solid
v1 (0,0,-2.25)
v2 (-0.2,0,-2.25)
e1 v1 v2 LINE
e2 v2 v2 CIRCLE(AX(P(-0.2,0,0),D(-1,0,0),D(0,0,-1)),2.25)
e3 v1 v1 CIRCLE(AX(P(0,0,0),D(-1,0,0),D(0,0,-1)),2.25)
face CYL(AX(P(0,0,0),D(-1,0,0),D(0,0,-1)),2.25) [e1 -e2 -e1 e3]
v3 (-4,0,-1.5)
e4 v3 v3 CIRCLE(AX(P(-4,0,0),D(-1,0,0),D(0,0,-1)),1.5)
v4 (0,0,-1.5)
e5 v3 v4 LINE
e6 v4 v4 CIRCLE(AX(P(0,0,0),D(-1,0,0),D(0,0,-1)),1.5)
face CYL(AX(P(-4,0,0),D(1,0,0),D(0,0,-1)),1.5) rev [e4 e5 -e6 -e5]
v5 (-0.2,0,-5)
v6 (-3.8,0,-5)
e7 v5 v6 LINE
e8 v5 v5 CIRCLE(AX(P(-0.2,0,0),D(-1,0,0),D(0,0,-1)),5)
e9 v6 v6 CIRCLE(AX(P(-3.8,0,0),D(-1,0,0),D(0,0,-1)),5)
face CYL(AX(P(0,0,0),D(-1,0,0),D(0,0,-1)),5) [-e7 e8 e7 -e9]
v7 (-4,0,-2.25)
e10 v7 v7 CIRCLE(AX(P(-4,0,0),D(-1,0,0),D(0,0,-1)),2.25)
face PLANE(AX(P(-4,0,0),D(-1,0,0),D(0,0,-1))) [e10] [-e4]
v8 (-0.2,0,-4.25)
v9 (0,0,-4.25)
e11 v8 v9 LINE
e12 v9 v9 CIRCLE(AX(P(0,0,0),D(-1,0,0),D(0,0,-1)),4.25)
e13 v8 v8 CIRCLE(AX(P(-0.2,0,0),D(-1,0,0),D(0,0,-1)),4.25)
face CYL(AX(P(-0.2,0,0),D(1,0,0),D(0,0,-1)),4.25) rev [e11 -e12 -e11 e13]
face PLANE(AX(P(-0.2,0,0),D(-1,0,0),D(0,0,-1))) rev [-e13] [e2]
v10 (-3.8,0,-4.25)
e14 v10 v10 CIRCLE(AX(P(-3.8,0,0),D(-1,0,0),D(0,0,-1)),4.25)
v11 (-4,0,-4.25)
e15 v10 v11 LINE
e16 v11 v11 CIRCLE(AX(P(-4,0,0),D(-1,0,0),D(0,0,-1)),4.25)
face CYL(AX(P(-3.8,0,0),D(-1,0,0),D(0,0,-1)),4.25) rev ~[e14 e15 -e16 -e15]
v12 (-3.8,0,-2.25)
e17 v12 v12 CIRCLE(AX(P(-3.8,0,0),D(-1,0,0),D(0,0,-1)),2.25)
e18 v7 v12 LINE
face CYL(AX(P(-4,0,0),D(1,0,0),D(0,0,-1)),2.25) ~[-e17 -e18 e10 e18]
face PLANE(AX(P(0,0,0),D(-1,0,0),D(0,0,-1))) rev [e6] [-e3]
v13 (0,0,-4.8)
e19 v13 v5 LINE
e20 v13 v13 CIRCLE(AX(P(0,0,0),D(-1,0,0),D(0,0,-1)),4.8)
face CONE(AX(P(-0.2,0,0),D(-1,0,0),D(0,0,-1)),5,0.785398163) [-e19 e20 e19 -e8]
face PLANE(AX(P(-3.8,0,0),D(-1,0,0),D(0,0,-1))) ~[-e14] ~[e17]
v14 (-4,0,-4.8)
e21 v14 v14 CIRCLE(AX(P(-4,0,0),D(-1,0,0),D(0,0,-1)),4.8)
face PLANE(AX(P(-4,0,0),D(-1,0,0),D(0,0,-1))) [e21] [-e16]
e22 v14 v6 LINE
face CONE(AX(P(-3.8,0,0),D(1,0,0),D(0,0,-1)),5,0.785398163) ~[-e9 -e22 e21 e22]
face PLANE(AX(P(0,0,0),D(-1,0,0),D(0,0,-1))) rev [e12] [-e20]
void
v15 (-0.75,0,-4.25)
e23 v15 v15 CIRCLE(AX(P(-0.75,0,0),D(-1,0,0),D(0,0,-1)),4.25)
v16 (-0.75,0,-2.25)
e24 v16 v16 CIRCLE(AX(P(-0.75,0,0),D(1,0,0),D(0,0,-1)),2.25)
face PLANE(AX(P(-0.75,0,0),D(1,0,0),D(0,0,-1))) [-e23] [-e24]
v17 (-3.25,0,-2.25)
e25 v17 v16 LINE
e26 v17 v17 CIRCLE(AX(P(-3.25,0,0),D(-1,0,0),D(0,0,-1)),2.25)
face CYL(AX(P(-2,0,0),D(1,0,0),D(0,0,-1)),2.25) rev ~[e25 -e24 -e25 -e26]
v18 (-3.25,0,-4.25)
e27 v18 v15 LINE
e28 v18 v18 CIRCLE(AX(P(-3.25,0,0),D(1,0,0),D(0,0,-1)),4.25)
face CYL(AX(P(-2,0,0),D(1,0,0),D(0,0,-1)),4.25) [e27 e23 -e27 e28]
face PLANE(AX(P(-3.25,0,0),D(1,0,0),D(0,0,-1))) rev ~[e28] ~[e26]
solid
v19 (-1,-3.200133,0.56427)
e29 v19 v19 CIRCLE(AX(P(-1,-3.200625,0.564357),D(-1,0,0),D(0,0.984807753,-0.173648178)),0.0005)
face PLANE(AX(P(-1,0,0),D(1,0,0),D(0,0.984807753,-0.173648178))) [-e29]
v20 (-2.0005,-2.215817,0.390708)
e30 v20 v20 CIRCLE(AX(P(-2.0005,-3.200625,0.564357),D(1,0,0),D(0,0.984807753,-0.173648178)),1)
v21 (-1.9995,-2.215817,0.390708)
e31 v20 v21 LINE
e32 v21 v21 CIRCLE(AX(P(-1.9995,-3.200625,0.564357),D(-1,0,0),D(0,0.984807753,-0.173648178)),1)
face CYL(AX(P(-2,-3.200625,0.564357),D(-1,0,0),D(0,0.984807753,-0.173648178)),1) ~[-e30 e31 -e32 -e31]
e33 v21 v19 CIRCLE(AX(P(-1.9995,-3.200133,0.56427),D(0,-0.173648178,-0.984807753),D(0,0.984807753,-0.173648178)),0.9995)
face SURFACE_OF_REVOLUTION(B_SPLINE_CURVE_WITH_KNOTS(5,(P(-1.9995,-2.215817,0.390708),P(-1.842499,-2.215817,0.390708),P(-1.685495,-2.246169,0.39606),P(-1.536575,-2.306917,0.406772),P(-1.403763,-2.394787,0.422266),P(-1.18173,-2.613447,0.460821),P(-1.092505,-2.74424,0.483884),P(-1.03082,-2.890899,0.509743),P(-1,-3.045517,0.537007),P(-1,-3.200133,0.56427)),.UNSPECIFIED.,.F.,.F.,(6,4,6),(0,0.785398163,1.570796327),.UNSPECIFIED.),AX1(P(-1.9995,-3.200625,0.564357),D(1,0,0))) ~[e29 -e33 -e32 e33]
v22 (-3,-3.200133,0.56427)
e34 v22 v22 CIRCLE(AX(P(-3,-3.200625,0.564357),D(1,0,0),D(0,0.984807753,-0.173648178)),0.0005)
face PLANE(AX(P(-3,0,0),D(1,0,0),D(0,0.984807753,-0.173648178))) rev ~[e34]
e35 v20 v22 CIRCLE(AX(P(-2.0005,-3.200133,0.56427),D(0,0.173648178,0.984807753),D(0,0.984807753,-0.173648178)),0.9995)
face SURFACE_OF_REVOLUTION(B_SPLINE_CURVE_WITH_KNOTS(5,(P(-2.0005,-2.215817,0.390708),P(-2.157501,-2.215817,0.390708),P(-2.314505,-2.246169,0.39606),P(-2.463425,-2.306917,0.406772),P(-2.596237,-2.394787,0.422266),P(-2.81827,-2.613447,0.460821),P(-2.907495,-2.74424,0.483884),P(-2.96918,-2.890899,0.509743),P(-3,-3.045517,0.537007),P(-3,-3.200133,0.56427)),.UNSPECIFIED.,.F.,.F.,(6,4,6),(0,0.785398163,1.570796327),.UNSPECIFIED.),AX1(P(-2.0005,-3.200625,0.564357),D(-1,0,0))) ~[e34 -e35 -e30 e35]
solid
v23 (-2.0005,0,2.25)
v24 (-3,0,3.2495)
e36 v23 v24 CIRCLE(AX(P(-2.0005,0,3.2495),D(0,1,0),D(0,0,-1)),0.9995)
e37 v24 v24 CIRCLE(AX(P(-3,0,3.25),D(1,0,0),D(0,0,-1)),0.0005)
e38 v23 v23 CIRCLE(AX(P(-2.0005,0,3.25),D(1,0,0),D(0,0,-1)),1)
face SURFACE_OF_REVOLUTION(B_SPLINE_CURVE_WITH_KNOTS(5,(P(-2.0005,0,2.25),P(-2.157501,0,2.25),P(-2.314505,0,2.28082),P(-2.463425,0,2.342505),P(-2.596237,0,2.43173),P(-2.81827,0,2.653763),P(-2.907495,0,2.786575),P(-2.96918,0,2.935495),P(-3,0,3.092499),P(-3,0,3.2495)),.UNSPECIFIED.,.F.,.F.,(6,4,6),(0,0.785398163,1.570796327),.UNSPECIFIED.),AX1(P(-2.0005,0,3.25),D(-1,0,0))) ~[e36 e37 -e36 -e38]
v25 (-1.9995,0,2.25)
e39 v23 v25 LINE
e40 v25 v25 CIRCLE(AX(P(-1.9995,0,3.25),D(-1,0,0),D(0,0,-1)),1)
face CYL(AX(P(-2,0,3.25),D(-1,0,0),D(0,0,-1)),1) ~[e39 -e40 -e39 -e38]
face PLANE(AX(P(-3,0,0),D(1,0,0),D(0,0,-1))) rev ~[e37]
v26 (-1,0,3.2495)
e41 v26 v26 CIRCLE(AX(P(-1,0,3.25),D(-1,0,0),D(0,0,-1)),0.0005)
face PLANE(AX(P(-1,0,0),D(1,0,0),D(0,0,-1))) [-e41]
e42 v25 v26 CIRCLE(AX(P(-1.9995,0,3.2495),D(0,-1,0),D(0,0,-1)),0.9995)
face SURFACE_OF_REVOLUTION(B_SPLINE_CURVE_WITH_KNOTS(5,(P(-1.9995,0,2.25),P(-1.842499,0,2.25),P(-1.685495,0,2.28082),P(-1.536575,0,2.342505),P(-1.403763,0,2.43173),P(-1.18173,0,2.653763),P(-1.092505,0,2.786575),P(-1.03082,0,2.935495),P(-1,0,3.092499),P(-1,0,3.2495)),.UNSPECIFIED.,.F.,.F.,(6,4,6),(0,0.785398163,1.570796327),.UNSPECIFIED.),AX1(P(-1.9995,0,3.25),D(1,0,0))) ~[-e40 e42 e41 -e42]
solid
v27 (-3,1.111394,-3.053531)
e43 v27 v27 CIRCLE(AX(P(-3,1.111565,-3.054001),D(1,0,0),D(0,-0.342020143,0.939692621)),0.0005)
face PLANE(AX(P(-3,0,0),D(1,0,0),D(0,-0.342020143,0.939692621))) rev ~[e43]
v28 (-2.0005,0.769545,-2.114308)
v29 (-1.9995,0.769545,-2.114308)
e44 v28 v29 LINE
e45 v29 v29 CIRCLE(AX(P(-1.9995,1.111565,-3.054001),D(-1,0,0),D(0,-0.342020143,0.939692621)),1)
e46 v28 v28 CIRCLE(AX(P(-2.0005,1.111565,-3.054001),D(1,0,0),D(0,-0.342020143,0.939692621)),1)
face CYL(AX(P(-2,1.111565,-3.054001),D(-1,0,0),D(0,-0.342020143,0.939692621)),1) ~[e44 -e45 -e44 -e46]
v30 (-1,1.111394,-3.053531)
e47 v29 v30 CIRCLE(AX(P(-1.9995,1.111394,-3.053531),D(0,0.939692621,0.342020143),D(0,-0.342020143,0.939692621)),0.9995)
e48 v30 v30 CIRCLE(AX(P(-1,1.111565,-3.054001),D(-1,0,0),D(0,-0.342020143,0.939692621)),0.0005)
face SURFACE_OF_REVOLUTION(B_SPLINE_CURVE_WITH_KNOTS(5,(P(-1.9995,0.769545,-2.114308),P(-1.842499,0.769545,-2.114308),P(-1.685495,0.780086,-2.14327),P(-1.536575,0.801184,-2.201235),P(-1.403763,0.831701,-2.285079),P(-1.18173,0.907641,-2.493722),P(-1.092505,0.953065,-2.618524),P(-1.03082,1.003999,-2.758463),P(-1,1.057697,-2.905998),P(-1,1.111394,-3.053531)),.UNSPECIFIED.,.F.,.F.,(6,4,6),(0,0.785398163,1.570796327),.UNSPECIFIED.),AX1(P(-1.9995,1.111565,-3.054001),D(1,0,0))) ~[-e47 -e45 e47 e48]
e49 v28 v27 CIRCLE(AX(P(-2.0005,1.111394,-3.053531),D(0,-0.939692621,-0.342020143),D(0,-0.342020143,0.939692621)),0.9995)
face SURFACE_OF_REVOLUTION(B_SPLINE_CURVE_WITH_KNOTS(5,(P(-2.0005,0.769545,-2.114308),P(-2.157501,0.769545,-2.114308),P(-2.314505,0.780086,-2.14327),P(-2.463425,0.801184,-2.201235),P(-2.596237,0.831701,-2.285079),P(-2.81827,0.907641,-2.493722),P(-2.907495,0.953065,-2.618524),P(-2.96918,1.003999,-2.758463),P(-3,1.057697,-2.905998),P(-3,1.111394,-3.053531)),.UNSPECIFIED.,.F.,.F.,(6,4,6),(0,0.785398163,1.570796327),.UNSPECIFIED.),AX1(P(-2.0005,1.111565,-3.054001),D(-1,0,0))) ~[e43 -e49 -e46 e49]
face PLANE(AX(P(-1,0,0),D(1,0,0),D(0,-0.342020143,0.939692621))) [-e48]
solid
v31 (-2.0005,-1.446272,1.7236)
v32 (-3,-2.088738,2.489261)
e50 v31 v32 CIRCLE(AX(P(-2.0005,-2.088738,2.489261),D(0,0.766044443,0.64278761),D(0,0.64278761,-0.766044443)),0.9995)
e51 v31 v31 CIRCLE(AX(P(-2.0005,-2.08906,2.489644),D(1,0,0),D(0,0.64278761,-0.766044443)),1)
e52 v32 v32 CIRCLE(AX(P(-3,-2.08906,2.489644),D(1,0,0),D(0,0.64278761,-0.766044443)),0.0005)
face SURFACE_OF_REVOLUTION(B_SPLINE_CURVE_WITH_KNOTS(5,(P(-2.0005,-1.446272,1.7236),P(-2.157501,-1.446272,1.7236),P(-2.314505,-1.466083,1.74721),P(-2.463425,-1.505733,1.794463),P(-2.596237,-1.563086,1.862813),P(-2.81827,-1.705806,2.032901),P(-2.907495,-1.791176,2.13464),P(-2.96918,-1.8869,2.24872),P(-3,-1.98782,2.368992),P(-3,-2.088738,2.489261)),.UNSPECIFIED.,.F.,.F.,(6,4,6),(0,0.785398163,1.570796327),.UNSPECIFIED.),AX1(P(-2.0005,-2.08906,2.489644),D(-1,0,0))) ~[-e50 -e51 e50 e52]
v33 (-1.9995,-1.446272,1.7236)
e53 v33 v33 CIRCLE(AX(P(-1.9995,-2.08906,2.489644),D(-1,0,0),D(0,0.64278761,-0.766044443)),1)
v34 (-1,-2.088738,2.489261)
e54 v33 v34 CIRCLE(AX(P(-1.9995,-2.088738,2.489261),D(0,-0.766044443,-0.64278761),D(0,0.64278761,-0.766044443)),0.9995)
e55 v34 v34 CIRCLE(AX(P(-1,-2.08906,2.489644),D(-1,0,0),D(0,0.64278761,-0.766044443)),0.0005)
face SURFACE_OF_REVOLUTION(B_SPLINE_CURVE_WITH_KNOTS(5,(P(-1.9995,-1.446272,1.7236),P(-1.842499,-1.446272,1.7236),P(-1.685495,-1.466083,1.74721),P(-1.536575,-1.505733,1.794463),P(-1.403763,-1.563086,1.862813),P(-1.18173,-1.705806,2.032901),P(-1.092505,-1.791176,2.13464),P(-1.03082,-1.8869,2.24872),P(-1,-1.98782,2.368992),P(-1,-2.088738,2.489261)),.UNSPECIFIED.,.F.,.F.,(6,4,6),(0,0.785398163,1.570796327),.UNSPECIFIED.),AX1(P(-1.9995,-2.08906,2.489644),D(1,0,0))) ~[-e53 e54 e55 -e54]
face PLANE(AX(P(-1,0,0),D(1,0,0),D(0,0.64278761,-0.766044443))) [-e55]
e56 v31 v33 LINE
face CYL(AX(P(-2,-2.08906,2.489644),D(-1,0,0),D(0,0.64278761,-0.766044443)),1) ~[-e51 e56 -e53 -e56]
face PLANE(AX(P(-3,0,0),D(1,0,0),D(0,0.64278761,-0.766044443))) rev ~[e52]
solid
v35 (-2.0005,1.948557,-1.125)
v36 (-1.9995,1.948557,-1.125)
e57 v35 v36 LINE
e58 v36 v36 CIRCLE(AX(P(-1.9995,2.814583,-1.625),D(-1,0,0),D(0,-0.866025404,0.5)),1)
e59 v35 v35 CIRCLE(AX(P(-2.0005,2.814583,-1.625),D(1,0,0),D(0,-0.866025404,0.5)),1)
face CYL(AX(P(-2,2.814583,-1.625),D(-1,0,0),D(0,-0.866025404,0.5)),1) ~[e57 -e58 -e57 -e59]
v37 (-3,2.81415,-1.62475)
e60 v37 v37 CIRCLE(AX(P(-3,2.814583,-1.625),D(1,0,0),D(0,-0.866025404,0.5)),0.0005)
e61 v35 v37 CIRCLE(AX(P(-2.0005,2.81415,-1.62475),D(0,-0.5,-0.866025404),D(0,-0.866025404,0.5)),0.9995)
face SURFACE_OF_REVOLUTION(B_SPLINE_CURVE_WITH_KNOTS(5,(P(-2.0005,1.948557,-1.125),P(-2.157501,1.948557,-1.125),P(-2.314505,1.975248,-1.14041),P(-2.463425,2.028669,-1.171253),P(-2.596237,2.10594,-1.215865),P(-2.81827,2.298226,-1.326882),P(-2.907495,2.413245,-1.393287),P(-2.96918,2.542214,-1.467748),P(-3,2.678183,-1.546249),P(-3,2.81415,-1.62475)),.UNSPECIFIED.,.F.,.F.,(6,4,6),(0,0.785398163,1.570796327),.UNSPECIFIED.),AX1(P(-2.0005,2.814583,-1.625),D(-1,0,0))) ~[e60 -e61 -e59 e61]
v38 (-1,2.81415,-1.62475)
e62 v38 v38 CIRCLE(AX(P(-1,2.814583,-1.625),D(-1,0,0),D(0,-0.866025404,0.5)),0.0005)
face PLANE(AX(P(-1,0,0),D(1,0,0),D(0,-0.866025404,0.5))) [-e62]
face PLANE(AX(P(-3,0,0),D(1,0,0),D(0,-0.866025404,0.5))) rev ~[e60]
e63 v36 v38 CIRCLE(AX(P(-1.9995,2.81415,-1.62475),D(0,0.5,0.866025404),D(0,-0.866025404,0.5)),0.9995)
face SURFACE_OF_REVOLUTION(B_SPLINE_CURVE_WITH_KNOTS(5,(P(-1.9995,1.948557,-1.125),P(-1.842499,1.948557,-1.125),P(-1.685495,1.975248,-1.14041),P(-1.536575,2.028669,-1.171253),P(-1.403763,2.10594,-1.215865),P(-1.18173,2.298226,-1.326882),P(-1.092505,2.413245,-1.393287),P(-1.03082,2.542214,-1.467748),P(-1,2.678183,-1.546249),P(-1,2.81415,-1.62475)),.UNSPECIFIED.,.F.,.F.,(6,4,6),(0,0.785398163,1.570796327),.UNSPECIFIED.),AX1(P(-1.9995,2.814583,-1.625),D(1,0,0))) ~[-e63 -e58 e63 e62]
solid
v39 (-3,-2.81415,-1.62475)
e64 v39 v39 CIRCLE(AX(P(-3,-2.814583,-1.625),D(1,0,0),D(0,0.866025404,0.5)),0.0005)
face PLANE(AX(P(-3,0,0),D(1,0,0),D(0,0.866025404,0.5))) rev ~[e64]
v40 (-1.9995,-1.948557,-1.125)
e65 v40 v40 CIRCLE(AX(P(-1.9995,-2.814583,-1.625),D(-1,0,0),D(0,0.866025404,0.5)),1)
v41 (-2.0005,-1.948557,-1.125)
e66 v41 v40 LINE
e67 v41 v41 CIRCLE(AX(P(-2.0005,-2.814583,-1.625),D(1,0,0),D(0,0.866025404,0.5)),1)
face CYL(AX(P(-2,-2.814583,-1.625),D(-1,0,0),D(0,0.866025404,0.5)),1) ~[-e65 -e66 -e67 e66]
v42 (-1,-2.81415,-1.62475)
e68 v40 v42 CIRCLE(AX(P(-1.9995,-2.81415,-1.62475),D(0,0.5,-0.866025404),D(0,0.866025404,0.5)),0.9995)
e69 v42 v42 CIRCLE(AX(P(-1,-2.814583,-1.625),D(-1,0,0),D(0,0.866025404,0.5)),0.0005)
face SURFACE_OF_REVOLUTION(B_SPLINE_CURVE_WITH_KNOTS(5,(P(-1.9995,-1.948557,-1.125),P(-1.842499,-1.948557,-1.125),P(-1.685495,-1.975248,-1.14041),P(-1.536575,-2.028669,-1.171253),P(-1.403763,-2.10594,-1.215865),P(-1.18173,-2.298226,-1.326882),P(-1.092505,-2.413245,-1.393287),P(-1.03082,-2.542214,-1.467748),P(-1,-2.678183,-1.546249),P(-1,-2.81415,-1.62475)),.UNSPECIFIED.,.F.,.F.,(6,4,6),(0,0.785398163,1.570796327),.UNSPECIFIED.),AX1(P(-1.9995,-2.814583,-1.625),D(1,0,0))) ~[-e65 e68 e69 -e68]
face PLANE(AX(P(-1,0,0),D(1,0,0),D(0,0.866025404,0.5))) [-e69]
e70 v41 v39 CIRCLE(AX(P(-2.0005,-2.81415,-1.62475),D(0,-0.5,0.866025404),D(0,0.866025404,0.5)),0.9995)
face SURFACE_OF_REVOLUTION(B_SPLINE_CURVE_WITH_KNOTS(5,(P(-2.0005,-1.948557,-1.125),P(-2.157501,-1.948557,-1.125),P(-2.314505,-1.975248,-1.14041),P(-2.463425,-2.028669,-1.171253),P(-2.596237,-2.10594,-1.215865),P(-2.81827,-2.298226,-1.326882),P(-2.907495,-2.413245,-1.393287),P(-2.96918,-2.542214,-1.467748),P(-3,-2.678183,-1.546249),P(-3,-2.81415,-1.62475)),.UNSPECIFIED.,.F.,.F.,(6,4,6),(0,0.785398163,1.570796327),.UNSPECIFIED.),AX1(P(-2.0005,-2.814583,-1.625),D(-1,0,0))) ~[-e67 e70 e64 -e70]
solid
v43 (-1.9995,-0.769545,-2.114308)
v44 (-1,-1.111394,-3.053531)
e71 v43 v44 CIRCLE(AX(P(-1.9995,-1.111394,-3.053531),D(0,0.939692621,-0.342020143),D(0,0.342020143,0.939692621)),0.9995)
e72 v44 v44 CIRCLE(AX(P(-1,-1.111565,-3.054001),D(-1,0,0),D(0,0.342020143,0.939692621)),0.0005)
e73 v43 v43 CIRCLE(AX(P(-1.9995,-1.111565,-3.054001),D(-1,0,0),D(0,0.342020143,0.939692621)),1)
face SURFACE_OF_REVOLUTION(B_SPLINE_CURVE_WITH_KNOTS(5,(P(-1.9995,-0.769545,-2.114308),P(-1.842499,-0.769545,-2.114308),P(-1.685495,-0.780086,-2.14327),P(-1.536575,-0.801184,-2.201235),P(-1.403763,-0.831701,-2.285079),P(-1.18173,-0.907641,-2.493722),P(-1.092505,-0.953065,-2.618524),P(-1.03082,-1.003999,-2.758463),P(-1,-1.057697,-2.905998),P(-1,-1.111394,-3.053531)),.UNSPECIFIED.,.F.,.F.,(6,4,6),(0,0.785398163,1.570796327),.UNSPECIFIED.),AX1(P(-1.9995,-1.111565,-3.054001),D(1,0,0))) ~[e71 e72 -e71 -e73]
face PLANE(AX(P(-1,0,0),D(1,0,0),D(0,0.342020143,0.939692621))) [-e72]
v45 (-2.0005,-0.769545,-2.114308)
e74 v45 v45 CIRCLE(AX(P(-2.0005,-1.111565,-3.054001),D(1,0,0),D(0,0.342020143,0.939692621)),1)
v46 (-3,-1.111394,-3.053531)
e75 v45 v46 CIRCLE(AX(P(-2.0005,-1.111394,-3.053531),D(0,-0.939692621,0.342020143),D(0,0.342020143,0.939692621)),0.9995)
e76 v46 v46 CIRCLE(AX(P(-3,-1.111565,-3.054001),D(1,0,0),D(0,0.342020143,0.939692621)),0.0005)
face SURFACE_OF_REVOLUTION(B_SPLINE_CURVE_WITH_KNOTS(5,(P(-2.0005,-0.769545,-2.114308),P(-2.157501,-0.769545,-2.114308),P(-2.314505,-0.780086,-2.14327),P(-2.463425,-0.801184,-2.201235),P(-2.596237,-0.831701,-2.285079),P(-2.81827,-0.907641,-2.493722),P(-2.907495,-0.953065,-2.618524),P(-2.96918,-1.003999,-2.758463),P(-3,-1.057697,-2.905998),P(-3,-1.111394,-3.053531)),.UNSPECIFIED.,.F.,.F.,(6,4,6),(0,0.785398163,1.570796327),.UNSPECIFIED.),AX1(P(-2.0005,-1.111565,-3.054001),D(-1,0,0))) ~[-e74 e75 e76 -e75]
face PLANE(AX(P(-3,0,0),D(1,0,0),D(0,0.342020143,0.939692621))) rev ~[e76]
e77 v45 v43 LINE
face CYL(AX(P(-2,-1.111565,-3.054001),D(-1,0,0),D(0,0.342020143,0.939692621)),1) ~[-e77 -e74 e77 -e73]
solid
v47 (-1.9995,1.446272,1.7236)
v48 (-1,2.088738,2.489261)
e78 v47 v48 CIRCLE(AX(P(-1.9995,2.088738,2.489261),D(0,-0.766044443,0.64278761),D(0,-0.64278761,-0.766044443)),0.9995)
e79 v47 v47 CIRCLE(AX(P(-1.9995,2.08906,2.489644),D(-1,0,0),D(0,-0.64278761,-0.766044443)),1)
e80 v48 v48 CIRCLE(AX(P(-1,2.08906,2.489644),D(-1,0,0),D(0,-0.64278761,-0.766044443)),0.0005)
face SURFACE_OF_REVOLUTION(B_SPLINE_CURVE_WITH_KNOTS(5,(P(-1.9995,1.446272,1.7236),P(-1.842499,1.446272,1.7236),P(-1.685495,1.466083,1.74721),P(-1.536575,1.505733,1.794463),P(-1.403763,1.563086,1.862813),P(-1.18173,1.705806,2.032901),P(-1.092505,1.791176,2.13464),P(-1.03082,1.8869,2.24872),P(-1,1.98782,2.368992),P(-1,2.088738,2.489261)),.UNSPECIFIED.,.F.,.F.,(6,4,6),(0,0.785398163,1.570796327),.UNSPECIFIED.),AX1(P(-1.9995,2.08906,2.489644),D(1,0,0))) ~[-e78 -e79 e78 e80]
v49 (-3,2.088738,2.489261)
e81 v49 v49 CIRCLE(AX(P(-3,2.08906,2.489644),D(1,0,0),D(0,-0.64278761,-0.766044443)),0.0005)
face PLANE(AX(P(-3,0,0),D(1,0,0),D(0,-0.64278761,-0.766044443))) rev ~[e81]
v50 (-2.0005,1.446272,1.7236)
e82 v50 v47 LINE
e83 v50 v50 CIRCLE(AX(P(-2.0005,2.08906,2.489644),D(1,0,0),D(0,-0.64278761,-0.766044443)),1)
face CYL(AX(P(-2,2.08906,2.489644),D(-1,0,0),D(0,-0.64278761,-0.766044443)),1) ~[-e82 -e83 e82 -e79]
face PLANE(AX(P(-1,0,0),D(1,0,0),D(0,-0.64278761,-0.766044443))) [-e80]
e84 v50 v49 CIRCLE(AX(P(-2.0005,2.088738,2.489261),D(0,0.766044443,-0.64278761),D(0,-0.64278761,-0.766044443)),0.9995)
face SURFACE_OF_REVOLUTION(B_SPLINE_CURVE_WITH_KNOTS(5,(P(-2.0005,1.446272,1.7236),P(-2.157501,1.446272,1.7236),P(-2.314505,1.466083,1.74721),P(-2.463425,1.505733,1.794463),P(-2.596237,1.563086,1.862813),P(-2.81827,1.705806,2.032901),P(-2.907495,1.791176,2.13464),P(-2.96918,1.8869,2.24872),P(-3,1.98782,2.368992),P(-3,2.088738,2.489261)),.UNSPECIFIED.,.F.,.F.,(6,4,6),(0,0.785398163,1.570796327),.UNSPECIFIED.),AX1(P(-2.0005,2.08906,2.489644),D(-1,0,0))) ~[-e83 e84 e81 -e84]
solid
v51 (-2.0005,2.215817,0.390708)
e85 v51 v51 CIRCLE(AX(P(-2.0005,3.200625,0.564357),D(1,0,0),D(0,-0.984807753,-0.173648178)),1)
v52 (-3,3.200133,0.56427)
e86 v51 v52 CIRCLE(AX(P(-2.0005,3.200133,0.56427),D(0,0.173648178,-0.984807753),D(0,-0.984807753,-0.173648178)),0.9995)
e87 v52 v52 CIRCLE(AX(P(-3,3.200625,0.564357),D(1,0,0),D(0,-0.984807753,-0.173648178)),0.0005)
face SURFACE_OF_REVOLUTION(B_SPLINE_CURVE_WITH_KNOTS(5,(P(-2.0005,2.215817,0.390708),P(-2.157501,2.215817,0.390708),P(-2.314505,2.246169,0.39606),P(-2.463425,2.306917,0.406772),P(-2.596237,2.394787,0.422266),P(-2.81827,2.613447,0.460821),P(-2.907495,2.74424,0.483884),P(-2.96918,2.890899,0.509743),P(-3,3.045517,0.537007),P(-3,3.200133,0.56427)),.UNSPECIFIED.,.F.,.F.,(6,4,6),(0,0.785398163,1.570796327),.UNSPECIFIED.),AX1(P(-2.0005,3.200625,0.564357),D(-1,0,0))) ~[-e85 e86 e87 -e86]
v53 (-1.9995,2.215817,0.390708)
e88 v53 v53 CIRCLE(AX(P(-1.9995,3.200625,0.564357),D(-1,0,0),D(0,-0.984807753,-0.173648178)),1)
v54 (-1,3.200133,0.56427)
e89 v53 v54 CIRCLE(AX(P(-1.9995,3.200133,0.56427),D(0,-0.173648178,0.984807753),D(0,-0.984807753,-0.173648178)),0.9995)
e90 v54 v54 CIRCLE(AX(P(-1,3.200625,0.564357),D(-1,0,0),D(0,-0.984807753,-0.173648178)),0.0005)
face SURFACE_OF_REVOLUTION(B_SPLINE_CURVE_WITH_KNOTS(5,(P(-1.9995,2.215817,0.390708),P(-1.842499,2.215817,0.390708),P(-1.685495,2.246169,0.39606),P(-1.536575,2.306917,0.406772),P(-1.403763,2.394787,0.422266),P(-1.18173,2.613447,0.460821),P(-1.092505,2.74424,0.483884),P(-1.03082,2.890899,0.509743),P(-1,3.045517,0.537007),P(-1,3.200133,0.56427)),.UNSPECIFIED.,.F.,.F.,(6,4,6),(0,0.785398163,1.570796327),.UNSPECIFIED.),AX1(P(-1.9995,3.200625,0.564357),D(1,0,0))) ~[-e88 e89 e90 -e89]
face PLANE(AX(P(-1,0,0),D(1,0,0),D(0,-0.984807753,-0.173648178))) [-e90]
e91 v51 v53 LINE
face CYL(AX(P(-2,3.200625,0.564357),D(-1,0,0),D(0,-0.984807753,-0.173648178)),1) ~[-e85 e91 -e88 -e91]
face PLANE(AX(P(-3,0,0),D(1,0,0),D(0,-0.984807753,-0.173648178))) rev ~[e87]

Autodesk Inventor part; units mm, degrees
ref_plane "YZ Plane" through (0, 0, 0) normal (1, 0, 0) x (0, 1, 0)
ref_plane "XZ Plane" through (0, 0, 0) normal (0, 1, 0) x (-1, 0, 0)
sketch "Sketch1" plane through (0, 0, 0) normal (0, 1, 0) x (-1, 0, 0)
  line L0 (0, 0) -> (4, 0)
  line L1 (4, 0) -> (4, -1.5)
  line L2 (4, -1.5) -> (0, -1.5)
  line L3 (0, -1.5) -> (0, 0)
  line L4 (4, -1.5) -> (0, -1.5)
  line L5 (0, -1.5) -> (0, -5)
  line L6 (0, -5) -> (4, -5)
  line L7 (4, -5) -> (4, -1.5)
  line L8 (4, -2.25) -> (3.8, -2.25)
  line L9 (3.8, -2.25) -> (3.8, -4.25)
  line L10 (3.8, -4.25) -> (4, -4.25)
  line L11 (4, -4.25) -> (4, -2.25)
  line L12 (0, -2.25) -> (0.2, -2.25)
  line L13 (0.2, -2.25) -> (0.2, -4.25)
  line L14 (0.2, -4.25) -> (0, -4.25)
  line L15 (0, -4.25) -> (0, -2.25)
  dimension "d0" = 4
  dimension "d1" = 1.5
  dimension "d2" = 4
  dimension "d3" = 3.5
  dimension "d4" = 0.75
  dimension "d5" = 0.75
  dimension "d6" = 0.2
  dimension "d7" = 0.2
revolve "Revolution1" add sketch "Sketch1" angle 360 about axis through (0, 0, 0) along (-1, 0, 0) contours L2 L7 L8 L9 L10 L6 L5 L14 L13 L12
ref_plane "Work Plane1" through (-2, 0, 0) normal (1, 0, 0) x (0, 0, -1)
sketch "Sketch2" plane through (-2, 0, 0) normal (1, 0, 0) x (0, 0, -1)
  circle A0 centre (0, 0) radius 4.25
  circle A1 centre (0, 0) radius 2.25
  circle A2 centre (-3.25, 0) radius 1
  line L0 (-3.25, 0) -> (0, 0) construction
  line L1 (-3.25, 0) -> (0, 0) construction
  dimension "d9" = 8.5
  dimension "d13" = 2
extrude "Extrusion1" cut sketch "Sketch2" along normal mid plane 2.5 contours A2 | A0
extrude "Extrusion2" add sketch "Sketch2" along normal mid plane 2 separate body contours A2
fillet "Fillet1" radius 1 2 edges at (-1, 0, 4.25) (-3, 0, 4.25)
pattern_circular "Circular Pattern1" count 9 over 360 about axis through (-2, 0, 0) along (1, 0, 0) bodies 2
chamfer "Chamfer1" distance 0.2 angle 45 2 edges at (0, 0, 5) (-4, 0, 5)
equation "\"d7\" = d6"
properties part number "623bearing" material "Glass"
